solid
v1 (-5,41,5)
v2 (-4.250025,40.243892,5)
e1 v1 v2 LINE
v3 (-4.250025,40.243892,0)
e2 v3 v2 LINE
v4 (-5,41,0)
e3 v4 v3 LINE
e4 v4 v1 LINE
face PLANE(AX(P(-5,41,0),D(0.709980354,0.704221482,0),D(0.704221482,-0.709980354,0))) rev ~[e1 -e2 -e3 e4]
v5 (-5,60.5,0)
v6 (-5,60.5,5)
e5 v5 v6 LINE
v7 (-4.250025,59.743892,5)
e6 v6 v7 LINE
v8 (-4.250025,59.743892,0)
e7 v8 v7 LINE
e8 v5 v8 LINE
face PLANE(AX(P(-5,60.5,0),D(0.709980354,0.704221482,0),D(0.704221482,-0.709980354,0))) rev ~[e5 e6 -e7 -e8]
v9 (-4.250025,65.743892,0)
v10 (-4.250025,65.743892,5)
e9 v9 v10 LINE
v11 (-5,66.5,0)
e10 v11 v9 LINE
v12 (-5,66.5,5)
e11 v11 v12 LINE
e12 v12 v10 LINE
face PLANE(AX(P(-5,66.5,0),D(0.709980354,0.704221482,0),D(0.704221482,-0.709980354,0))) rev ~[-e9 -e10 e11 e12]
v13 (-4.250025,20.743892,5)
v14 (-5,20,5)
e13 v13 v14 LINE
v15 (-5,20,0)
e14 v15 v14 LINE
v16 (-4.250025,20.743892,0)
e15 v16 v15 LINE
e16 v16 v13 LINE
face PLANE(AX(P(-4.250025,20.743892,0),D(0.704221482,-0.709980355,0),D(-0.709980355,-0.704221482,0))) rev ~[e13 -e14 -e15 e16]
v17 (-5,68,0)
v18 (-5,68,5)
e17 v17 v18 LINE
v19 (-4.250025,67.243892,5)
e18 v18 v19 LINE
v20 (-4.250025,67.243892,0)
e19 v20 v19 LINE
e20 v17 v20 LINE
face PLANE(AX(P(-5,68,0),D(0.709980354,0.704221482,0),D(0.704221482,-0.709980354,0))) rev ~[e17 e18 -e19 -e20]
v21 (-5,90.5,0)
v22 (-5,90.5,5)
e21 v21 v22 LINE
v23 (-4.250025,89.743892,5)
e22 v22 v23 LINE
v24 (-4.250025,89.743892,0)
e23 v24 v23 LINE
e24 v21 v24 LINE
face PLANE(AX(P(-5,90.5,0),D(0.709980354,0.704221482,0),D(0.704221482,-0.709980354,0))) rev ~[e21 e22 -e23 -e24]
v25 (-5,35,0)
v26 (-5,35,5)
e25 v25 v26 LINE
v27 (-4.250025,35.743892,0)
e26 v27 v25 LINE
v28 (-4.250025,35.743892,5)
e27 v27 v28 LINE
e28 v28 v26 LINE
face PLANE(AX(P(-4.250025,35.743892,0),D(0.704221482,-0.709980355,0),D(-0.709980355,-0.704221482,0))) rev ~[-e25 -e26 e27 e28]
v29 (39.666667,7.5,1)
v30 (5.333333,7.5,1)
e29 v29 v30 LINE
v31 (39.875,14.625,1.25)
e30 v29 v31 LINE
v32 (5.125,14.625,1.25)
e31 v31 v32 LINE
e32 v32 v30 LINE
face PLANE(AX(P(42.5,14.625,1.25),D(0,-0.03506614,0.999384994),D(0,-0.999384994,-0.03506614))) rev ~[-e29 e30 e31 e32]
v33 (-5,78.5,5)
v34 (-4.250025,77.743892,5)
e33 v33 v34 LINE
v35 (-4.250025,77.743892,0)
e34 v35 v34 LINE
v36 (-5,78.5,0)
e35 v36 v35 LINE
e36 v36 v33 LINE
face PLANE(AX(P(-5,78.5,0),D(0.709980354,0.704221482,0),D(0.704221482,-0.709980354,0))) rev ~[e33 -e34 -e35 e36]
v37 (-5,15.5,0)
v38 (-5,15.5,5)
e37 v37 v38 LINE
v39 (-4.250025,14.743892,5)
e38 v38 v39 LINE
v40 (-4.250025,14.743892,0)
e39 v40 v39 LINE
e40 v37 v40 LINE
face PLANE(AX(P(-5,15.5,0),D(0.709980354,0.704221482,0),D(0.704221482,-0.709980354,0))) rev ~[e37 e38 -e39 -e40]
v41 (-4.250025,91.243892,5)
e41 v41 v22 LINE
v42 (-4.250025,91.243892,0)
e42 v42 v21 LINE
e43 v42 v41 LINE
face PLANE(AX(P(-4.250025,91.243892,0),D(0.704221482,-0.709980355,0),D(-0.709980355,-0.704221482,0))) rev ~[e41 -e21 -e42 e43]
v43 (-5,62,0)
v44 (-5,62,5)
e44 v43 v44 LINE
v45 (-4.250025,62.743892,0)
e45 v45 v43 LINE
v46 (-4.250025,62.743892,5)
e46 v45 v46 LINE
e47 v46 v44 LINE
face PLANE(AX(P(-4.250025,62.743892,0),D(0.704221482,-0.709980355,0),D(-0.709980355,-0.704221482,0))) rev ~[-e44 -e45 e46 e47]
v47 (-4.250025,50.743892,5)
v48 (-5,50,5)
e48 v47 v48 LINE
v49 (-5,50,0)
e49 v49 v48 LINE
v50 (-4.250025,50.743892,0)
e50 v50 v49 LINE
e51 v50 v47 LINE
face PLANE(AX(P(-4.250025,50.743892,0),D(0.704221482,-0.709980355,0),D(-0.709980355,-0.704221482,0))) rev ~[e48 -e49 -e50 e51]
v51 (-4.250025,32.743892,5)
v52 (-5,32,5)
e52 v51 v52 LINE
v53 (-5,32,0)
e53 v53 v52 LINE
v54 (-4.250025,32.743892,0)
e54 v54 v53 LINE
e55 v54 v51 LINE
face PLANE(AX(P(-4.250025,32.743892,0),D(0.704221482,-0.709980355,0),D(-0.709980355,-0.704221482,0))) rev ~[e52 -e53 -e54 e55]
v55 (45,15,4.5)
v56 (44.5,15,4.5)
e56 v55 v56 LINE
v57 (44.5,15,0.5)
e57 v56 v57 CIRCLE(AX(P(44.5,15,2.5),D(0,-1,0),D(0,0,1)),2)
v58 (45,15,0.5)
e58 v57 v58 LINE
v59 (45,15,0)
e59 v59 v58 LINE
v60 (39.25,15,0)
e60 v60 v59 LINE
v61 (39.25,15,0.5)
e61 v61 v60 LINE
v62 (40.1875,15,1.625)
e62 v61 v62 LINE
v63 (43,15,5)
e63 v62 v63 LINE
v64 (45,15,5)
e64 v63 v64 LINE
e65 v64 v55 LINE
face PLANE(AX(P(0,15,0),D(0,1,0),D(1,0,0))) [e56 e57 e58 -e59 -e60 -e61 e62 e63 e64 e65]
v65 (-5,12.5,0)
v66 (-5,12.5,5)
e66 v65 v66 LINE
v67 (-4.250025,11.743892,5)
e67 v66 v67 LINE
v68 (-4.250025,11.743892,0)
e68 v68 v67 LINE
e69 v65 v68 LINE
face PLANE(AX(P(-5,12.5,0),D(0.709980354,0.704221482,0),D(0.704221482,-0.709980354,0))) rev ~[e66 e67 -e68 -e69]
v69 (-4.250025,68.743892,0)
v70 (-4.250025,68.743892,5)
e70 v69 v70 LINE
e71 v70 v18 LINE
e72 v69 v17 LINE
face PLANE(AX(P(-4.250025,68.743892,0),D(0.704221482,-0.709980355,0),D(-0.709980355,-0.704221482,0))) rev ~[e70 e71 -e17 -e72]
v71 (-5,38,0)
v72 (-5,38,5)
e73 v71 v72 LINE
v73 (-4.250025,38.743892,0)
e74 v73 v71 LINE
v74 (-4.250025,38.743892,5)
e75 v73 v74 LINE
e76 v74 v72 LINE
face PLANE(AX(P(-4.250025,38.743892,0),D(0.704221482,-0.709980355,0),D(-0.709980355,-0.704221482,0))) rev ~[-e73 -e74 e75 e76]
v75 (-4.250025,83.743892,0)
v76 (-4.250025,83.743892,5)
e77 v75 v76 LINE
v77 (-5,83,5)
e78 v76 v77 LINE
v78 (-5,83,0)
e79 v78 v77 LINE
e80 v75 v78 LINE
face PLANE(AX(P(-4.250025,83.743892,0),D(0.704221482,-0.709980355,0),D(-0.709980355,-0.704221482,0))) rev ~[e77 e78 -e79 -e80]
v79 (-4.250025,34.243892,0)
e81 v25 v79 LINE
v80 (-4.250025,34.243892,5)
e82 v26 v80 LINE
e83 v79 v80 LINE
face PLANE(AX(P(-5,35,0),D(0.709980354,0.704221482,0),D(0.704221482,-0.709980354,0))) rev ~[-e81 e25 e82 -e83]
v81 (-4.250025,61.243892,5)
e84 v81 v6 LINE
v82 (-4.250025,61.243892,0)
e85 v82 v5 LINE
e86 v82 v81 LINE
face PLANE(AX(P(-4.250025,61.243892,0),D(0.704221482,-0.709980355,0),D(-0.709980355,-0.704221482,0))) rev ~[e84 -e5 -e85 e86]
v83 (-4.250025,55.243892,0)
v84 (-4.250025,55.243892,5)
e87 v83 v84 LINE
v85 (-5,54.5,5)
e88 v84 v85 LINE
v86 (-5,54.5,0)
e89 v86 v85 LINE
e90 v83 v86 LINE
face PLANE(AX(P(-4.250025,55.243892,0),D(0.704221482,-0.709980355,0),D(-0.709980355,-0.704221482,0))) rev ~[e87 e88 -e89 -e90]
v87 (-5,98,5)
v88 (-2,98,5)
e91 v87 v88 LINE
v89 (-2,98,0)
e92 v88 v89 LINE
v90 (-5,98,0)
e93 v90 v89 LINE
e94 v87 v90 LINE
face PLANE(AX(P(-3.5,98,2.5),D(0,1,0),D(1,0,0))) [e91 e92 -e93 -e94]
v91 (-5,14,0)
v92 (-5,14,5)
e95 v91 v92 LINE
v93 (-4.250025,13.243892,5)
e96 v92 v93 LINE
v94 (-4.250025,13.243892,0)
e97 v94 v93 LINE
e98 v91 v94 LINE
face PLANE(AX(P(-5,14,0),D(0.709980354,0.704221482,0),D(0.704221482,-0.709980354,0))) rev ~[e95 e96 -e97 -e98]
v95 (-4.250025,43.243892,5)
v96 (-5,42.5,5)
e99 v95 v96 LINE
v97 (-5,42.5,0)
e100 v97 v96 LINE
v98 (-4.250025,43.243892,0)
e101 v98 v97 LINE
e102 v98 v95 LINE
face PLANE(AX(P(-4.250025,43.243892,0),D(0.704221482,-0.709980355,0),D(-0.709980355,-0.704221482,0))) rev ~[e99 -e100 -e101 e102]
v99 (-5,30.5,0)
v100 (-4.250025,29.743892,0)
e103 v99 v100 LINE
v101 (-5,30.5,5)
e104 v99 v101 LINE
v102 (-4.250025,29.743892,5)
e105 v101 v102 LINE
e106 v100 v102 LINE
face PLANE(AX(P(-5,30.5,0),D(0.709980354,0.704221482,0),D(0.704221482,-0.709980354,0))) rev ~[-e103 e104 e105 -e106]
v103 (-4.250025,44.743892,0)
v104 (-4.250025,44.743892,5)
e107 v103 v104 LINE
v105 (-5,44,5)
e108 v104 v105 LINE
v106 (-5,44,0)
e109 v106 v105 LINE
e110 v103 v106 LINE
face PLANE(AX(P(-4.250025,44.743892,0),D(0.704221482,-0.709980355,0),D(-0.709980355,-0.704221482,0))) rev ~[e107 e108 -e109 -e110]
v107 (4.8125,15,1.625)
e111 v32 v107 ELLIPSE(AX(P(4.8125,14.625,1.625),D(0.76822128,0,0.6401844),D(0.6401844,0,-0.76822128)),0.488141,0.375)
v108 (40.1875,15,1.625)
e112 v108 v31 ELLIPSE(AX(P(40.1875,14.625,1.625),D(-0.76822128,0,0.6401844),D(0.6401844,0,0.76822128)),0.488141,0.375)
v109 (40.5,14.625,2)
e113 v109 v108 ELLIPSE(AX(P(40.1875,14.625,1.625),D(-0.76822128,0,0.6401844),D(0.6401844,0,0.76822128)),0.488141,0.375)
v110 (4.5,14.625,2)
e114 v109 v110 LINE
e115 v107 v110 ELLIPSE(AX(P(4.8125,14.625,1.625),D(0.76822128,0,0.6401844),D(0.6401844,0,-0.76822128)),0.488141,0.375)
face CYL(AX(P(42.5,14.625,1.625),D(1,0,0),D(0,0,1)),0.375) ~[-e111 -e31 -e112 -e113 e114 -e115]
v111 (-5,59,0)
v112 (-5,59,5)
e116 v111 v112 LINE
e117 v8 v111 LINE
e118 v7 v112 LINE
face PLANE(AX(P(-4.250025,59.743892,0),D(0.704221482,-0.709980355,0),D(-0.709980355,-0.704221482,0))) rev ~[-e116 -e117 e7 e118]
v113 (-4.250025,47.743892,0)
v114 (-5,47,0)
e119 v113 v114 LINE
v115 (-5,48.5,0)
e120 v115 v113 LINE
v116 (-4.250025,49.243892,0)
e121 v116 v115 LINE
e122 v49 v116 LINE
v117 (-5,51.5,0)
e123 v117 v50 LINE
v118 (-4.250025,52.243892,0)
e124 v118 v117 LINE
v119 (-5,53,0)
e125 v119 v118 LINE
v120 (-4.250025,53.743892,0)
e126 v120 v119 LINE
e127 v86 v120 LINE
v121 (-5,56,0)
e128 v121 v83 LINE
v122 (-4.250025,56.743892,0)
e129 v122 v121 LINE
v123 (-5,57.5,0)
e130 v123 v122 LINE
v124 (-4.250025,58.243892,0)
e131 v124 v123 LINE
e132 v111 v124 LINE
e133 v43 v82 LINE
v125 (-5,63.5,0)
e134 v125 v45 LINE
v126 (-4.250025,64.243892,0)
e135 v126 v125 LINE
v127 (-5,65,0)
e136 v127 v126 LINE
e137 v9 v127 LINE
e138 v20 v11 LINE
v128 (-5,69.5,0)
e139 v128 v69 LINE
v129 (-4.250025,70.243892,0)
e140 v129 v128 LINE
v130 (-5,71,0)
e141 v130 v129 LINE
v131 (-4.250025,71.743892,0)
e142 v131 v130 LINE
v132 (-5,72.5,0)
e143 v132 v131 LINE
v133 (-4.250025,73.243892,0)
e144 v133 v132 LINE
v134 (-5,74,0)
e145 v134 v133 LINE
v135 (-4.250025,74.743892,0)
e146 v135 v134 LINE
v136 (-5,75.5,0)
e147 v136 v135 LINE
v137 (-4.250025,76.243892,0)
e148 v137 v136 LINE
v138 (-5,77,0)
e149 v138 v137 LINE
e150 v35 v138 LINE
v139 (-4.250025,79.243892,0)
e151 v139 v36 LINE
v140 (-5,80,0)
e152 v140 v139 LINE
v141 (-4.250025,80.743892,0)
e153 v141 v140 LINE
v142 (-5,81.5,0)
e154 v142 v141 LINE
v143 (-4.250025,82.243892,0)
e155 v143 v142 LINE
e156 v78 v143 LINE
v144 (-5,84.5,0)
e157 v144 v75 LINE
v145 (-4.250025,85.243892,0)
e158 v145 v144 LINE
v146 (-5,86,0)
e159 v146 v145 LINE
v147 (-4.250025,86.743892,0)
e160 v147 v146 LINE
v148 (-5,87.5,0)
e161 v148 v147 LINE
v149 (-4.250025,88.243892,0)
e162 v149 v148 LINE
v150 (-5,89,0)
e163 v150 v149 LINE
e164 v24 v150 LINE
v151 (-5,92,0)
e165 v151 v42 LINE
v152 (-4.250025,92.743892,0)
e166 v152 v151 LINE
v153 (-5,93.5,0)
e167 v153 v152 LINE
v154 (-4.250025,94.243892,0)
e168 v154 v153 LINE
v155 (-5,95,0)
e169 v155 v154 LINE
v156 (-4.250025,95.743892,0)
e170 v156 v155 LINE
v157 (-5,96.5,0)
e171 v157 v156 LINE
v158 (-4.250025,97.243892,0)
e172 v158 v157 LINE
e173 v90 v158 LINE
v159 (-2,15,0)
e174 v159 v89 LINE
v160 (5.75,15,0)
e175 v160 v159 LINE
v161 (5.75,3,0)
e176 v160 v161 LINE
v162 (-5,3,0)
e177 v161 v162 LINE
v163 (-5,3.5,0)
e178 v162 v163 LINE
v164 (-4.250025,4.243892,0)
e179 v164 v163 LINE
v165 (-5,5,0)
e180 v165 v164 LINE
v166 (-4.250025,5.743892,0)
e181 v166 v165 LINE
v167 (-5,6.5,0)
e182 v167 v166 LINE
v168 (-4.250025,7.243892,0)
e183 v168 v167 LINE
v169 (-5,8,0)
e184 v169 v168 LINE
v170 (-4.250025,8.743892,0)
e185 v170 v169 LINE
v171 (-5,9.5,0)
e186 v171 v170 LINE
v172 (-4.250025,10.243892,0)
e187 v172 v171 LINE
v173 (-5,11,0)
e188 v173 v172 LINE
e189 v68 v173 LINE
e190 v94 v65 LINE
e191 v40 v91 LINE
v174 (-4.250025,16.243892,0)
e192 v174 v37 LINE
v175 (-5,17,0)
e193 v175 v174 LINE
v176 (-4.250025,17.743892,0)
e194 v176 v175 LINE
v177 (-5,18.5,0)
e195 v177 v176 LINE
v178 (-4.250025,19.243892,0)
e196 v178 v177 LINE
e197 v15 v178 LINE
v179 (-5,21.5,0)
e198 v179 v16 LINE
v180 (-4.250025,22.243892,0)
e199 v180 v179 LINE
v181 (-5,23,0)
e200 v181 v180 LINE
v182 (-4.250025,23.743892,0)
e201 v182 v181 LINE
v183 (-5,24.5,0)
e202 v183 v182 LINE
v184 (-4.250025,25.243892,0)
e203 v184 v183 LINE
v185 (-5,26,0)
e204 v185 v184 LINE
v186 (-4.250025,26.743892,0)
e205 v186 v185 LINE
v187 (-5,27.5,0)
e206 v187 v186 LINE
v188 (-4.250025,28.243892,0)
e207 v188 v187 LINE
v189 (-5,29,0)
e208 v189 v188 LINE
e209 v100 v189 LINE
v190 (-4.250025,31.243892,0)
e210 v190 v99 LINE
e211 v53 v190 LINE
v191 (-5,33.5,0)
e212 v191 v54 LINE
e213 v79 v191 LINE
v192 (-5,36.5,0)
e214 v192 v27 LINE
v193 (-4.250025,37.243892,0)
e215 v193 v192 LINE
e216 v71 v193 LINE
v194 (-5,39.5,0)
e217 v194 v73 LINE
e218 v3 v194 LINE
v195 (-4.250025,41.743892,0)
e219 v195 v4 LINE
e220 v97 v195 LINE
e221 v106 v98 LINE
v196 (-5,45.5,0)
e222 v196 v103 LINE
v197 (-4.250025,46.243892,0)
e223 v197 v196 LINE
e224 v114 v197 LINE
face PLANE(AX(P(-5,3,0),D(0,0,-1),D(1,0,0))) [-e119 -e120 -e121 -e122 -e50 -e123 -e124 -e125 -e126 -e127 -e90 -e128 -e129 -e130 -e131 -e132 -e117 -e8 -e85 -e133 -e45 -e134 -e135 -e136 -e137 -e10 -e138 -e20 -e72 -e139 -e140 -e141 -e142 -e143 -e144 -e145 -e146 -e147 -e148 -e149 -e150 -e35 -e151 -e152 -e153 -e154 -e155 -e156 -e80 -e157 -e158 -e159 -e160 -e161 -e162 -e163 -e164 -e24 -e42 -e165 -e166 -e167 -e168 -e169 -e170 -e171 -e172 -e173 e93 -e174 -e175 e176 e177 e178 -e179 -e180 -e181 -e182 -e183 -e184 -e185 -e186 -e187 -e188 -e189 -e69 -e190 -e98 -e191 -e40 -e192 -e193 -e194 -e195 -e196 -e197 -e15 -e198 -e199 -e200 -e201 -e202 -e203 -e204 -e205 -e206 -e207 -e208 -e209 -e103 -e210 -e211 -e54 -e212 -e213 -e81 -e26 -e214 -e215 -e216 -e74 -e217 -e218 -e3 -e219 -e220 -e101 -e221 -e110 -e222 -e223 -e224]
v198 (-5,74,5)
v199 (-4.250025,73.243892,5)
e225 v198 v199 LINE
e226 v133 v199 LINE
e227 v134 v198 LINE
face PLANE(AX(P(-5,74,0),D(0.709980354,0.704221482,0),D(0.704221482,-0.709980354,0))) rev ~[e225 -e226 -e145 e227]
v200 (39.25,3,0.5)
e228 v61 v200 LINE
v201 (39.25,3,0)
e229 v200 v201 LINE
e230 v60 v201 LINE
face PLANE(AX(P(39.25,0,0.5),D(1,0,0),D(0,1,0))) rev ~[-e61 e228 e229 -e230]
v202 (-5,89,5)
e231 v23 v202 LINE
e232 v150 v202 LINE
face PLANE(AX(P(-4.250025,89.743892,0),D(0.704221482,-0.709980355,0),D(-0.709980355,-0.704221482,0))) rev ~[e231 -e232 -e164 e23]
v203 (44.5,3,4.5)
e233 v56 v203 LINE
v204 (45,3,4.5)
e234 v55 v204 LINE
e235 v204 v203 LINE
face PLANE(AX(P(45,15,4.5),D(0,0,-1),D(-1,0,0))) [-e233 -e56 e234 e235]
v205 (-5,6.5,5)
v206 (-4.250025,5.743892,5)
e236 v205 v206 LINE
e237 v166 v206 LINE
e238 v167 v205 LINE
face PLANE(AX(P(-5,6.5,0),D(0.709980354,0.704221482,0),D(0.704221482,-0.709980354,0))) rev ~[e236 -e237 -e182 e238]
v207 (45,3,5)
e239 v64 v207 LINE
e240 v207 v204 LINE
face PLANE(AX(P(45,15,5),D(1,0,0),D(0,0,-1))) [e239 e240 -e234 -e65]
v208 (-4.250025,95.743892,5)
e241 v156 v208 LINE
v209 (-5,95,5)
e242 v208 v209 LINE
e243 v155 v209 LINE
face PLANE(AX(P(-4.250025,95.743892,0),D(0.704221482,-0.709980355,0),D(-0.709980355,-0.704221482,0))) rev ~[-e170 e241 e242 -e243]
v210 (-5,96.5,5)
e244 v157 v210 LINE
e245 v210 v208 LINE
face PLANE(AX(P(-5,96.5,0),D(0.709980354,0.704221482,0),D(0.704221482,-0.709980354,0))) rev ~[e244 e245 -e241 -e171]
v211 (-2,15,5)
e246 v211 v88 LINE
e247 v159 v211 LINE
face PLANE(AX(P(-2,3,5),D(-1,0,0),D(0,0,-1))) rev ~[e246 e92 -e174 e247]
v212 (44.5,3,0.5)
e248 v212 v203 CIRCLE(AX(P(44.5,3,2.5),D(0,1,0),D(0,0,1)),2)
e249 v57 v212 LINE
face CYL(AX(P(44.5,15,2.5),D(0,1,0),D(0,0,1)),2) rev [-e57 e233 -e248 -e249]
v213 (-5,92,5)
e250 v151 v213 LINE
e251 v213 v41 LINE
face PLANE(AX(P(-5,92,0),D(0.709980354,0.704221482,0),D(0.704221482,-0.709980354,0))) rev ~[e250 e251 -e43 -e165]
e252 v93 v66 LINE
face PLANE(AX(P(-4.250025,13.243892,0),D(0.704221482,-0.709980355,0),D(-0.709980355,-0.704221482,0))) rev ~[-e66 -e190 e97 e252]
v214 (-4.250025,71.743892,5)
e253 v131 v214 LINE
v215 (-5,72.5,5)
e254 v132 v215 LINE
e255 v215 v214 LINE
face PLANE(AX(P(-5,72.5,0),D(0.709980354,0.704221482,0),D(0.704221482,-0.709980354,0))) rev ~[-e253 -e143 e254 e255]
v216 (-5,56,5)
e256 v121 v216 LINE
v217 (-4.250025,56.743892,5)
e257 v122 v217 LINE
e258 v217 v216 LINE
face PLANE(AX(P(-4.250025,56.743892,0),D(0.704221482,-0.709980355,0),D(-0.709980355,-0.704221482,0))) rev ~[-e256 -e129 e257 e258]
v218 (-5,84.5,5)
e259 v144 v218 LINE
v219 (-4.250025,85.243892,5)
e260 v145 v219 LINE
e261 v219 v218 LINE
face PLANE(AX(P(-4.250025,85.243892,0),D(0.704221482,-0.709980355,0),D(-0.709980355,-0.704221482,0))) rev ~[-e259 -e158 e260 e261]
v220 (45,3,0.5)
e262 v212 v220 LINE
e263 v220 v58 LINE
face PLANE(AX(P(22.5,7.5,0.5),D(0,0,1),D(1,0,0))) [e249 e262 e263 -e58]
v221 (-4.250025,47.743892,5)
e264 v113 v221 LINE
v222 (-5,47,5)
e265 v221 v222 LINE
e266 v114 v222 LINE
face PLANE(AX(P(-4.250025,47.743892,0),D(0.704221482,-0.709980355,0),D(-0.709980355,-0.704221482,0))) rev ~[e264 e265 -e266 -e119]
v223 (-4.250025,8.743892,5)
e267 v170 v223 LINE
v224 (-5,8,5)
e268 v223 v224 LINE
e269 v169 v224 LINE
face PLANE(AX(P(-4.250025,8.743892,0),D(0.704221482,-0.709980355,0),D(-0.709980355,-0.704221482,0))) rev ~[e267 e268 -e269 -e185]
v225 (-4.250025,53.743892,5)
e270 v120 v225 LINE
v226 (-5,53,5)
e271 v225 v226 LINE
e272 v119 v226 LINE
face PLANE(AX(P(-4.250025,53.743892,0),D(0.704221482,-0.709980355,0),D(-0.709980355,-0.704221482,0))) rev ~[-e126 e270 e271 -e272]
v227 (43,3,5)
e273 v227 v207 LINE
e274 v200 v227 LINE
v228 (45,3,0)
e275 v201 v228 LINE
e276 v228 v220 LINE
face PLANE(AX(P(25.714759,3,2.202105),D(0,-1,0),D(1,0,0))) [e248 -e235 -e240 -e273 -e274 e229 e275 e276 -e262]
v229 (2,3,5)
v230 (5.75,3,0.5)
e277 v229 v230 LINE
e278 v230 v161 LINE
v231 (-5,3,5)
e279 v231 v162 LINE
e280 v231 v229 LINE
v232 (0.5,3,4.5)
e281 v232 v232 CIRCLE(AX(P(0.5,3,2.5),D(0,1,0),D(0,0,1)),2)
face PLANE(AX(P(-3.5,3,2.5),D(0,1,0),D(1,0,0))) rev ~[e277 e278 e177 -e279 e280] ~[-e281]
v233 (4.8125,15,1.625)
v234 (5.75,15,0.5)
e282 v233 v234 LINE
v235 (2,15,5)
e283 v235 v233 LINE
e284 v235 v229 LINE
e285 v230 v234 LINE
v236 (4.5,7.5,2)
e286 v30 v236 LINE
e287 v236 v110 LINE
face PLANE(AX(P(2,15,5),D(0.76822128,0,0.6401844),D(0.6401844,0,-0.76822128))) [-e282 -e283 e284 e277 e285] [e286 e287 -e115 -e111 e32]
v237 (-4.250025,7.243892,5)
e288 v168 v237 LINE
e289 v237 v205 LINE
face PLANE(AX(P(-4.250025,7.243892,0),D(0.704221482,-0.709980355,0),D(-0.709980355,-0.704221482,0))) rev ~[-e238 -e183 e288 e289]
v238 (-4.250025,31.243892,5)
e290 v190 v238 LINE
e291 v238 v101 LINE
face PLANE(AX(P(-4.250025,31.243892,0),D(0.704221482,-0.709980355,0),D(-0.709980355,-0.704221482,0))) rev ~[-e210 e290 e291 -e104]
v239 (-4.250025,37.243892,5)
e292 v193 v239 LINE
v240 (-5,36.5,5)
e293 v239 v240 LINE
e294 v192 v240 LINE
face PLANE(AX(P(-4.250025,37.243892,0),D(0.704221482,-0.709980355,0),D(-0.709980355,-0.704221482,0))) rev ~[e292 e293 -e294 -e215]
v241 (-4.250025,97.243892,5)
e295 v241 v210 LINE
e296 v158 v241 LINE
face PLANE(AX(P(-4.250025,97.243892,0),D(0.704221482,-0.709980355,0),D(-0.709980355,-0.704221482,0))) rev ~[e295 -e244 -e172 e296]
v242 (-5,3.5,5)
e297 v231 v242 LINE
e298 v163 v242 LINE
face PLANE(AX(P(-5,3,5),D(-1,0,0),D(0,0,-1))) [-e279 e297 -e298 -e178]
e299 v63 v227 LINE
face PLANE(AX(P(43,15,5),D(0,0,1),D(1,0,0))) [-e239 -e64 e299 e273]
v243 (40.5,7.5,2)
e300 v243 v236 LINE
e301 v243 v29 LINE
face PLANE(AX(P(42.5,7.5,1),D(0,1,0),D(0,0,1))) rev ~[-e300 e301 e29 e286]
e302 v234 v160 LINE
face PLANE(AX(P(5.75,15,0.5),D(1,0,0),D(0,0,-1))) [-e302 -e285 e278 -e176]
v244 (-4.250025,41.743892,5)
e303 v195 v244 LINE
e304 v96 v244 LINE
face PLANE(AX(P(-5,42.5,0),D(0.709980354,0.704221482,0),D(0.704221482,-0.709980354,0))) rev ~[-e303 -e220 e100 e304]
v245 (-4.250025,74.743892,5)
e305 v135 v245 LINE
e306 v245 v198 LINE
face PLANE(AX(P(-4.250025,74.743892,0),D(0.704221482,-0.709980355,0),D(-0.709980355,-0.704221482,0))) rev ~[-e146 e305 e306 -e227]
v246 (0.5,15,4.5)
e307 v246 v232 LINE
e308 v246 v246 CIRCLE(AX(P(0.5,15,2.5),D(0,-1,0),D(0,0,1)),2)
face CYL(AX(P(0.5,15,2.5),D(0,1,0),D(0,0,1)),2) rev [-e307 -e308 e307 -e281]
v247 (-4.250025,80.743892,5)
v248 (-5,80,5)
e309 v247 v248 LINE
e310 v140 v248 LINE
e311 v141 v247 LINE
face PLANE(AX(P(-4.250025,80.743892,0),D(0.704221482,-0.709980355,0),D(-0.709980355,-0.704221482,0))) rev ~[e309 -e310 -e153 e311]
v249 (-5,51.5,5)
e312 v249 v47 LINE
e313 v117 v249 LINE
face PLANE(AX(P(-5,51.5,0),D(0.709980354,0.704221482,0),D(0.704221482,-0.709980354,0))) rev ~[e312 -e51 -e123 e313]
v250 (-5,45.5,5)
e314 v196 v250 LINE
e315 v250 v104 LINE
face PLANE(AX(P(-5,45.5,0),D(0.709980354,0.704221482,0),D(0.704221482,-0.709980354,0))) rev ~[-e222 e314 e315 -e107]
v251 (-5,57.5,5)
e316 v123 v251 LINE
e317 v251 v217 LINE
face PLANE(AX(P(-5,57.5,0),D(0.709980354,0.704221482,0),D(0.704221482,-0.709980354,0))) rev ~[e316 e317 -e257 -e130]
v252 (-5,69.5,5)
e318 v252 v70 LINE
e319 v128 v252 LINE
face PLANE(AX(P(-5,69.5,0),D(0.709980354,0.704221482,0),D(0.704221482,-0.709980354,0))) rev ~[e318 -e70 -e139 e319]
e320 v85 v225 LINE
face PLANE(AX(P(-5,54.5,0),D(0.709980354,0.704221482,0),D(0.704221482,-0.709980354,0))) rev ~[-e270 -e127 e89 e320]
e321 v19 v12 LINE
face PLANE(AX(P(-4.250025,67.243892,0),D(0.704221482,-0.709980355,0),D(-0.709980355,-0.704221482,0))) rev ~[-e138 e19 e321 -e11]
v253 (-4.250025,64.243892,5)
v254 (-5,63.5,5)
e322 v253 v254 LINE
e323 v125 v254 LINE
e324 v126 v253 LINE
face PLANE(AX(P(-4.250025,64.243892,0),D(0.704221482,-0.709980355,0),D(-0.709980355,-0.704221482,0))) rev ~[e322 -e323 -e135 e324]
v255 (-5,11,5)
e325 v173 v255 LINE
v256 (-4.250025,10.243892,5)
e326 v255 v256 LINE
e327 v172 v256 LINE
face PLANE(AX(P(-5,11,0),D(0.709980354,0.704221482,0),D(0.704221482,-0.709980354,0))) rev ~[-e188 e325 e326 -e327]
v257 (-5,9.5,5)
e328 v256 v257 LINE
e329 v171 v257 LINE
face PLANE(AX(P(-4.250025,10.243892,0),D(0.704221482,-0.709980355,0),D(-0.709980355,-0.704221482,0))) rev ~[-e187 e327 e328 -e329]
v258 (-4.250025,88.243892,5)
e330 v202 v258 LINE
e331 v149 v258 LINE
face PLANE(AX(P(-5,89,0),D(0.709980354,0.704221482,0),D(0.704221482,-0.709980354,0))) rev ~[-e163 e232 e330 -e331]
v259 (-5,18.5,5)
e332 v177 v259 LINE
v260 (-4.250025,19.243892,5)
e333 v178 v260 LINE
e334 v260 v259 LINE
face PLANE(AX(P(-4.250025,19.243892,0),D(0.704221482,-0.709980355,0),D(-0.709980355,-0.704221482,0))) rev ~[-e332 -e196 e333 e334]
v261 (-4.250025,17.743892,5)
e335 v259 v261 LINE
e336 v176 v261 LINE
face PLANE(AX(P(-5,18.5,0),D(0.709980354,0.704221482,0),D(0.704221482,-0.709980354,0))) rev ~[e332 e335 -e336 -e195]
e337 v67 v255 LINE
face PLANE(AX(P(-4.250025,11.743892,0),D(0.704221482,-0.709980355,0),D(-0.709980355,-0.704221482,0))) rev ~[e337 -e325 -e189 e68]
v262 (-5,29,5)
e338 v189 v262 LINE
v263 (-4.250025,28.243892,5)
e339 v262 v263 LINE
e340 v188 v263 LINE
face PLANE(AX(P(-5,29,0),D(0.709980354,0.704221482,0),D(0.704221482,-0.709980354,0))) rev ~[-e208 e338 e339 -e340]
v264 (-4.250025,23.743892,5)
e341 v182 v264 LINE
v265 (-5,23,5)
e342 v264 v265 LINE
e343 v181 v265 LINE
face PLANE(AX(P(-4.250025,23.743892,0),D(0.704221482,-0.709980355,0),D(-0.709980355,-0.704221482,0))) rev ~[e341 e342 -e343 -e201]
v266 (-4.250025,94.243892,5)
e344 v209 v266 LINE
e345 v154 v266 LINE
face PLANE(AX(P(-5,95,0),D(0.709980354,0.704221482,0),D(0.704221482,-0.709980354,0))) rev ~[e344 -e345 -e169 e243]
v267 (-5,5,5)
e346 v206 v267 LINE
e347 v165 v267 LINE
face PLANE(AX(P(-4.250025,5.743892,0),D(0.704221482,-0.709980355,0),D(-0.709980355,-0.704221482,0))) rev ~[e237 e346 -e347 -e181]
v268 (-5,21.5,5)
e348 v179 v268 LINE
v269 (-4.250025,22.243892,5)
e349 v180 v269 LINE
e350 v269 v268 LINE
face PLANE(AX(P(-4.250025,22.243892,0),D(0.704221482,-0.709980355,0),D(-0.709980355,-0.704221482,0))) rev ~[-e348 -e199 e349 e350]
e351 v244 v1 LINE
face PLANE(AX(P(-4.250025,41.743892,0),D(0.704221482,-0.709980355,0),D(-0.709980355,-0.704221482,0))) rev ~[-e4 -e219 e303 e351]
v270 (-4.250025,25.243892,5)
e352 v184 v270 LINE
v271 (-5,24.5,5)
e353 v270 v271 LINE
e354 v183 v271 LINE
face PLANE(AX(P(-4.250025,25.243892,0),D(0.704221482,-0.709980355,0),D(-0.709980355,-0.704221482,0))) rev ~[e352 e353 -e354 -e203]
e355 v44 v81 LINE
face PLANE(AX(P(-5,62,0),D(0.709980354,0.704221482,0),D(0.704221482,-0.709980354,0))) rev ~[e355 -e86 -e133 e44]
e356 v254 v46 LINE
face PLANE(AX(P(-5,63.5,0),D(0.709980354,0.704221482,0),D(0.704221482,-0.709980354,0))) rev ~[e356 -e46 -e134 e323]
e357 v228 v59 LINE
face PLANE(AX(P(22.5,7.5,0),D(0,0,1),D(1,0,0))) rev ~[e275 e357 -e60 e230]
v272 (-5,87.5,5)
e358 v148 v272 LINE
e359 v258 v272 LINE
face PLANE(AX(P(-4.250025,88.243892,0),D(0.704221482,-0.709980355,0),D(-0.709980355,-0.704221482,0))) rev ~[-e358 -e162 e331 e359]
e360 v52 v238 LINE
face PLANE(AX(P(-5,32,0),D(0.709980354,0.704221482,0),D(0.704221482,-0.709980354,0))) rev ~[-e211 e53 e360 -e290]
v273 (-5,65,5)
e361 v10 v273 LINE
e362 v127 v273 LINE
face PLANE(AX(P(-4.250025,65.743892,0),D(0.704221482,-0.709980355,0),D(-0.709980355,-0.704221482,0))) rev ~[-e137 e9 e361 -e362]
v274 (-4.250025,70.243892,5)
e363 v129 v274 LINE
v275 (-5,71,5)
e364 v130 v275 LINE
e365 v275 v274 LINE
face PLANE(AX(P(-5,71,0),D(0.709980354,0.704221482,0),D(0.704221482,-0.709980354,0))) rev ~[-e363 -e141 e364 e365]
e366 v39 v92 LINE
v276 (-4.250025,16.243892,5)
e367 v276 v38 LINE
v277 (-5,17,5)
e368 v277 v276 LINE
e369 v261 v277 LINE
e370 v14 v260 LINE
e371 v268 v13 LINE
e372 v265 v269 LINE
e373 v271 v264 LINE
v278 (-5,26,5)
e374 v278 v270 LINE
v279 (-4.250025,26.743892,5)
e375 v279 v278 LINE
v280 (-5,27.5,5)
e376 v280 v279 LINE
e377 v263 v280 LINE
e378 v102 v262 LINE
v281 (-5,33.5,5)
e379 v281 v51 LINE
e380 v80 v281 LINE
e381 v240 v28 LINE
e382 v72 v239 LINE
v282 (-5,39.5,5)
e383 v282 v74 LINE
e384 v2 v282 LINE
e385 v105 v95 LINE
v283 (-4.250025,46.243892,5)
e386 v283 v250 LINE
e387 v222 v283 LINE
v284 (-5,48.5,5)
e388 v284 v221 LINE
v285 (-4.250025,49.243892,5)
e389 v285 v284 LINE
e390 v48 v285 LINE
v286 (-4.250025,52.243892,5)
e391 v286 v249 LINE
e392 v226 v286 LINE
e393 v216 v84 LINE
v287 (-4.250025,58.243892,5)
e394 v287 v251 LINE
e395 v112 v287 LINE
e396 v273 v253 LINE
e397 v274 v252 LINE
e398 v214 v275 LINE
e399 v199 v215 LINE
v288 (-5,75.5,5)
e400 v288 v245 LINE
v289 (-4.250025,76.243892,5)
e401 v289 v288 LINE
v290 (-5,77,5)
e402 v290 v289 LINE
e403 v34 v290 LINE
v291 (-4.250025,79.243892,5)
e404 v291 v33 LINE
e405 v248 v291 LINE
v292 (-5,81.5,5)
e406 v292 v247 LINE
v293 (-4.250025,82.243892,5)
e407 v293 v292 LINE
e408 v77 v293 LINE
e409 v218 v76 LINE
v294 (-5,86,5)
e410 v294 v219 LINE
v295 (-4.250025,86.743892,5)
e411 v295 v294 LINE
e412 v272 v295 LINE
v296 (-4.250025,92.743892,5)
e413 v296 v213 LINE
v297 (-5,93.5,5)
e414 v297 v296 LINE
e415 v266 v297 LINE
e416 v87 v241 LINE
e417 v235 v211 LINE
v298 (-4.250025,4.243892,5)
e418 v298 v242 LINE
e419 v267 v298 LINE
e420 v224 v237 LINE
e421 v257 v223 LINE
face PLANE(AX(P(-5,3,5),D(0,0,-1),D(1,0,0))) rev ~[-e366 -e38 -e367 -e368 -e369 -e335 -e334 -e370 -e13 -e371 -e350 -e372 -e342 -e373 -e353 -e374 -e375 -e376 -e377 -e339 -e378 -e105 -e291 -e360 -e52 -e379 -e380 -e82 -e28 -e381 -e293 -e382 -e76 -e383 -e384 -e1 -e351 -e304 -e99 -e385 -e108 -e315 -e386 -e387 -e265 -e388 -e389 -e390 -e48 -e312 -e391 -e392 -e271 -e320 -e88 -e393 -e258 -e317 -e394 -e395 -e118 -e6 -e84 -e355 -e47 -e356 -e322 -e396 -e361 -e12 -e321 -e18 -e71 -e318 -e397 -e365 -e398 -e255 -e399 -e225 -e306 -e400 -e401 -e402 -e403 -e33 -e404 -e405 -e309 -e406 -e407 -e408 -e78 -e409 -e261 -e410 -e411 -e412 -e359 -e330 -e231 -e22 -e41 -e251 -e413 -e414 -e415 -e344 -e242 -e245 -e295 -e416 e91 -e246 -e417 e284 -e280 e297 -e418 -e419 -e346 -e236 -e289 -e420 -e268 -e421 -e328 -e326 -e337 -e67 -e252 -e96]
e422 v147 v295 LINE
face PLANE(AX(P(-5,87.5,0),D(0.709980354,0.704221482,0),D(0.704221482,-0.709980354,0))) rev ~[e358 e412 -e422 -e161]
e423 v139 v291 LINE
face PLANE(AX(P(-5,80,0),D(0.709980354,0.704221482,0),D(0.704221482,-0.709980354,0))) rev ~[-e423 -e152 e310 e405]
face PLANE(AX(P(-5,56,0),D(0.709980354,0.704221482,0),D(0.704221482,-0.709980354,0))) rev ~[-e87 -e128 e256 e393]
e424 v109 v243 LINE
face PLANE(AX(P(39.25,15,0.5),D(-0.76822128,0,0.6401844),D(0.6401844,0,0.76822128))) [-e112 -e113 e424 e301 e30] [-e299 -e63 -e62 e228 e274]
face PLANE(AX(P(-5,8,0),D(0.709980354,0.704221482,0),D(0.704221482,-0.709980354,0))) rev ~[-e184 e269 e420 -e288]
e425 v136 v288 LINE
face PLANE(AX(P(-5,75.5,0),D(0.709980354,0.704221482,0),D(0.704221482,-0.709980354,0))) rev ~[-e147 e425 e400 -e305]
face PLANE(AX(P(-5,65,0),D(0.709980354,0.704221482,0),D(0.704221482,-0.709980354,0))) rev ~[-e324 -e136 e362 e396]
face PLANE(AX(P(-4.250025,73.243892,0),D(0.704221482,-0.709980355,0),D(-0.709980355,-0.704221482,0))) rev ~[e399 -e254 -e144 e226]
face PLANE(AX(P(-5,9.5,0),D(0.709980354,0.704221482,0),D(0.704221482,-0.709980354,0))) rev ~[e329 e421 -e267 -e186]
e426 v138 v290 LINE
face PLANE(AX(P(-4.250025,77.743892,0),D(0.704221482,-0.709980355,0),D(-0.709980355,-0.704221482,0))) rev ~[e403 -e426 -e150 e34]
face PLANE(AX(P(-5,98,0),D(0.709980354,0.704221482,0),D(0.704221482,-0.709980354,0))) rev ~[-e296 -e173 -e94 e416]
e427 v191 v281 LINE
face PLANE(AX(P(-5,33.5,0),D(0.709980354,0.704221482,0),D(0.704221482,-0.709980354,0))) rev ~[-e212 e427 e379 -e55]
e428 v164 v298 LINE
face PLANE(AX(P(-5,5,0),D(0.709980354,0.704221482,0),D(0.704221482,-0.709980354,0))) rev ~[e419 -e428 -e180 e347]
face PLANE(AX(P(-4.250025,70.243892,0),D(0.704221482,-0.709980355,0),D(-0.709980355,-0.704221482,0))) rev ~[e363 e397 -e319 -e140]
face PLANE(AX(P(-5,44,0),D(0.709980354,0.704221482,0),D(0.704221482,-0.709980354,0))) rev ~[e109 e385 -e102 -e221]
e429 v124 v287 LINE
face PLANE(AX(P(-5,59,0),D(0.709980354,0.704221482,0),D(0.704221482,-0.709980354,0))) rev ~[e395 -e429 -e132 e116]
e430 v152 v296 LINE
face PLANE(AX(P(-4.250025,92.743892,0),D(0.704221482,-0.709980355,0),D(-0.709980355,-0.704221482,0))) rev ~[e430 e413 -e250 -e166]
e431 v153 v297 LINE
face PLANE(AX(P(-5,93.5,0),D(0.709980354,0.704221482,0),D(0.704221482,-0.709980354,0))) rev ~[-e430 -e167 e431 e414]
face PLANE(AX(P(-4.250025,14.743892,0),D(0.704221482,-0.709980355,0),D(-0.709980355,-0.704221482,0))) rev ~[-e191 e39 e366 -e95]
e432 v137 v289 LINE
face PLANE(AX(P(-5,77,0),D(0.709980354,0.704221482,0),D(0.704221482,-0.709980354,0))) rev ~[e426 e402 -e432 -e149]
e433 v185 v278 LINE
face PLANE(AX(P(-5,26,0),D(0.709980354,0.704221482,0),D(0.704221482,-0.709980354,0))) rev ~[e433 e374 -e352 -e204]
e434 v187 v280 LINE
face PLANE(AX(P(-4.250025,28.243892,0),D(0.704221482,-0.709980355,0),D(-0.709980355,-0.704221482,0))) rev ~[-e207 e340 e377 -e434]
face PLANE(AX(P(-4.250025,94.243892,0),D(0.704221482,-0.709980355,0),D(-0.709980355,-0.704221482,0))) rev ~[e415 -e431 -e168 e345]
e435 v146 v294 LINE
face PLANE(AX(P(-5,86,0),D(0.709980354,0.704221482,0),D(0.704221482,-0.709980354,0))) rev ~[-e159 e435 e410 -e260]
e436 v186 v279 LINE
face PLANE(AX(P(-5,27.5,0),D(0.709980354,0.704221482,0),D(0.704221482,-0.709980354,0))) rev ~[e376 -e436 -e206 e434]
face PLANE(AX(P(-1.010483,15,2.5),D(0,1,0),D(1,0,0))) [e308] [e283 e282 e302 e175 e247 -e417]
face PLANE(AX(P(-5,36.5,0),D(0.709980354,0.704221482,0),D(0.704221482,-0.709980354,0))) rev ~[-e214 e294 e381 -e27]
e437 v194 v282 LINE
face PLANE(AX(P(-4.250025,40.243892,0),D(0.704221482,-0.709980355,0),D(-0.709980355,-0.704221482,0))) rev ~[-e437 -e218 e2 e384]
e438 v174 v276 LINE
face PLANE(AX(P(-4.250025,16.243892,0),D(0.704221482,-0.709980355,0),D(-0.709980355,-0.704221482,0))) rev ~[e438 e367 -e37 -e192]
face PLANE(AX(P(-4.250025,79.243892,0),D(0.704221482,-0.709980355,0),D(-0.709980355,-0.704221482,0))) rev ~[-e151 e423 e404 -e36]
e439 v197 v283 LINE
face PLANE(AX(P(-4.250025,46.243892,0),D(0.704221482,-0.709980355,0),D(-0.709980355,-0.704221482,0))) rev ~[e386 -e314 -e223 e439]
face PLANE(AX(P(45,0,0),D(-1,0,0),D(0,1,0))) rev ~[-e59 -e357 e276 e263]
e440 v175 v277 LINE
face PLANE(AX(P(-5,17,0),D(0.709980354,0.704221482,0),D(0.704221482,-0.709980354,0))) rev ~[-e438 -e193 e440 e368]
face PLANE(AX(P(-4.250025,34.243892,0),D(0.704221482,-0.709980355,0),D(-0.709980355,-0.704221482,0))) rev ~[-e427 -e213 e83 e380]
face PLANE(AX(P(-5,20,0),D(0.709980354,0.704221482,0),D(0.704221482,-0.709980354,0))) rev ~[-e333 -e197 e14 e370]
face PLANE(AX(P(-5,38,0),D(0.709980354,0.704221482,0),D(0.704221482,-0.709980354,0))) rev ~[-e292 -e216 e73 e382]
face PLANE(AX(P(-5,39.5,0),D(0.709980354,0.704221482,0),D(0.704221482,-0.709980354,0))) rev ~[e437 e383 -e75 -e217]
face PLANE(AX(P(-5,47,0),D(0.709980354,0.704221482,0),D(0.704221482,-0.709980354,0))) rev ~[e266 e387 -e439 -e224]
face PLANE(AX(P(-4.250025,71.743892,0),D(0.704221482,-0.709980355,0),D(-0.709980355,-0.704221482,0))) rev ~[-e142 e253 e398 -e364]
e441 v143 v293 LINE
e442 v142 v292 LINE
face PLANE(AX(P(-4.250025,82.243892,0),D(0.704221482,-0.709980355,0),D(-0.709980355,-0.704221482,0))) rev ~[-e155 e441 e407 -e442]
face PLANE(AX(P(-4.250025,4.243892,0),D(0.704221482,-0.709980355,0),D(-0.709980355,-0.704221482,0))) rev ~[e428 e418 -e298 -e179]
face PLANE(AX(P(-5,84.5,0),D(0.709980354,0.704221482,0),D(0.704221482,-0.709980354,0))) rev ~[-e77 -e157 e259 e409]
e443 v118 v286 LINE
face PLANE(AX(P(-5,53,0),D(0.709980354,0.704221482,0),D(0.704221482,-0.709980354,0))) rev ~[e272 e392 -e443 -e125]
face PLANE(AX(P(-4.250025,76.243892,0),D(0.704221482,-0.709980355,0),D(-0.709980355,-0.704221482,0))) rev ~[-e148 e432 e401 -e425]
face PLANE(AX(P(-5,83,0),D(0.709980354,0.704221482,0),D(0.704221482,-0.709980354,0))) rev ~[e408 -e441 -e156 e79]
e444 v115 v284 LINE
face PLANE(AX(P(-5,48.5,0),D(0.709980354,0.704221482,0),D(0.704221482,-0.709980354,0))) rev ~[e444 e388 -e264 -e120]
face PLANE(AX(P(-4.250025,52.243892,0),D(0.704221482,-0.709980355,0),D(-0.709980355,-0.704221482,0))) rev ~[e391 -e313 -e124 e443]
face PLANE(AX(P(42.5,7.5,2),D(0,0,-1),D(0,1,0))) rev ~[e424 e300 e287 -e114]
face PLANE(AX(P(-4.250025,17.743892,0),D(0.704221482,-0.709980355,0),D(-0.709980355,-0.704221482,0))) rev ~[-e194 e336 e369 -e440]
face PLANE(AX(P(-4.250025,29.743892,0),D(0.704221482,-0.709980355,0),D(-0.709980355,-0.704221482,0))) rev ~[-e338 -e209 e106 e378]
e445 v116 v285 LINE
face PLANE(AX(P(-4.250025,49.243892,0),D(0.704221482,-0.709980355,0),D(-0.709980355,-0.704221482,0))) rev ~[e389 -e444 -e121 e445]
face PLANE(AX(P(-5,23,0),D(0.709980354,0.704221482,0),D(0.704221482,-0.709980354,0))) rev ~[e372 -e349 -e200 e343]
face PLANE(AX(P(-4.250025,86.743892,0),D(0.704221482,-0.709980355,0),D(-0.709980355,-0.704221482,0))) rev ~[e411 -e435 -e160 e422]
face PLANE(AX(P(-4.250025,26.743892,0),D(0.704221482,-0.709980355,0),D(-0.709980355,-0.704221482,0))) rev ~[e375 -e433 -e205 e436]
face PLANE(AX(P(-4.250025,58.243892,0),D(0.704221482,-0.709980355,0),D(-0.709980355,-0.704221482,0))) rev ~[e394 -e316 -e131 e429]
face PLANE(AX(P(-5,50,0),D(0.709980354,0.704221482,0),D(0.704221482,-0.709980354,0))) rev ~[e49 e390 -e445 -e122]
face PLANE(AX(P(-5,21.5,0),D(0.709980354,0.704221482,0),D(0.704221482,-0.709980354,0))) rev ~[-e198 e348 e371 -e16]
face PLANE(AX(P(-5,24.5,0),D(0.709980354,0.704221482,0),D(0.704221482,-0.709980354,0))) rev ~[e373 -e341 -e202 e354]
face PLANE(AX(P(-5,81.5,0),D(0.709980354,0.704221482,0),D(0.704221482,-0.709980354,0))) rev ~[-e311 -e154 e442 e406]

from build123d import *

# Parameters (mm, degrees)
ESQUISSE1_W                = 45
ESQUISSE1_H                = 15
BOSS_EXTRU_1_DEPTH         = 0.5
BOSS_EXTRU_2_DEPTH         = 15
ESQUISSE3_W                = 33.5
ESQUISSE3_H                = 7.5
ENL_V_MAT_EXTRU_1_DEPTH    = 48.647140523
BOSS_EXTRU_5_DEPTH         = 20
BOSS_EXTRU_5_DEPTH_BACK    = 20
ESQUISSE10_W               = 64.680470467
ESQUISSE10_H               = 24.042247858
ENL_V_MAT_EXTRU_3_DEPTH    = 3
ESQUISSE11_W               = 33.5
ESQUISSE11_H               = 0.5
ENL_V_MAT_EXTRU_4_DEPTH    = 47.840153715
ESQUISSE12_W               = 10.593660794
ESQUISSE12_H               = 24.624800323
ENL_V_MAT_EXTRU_5_DEPTH    = 0.5
BOSS_EXTRU_6_DEPTH         = 12
BOSS_EXTRU_7_DEPTH         = 83
BOSS_EXTRU_7_DEPTH_BACK    = 12
ESQUISSE13_3_W             = 3
ESQUISSE13_3_H             = 5
ENL_V_MAT_EXTRU_6_DEPTH    = 185
R_P_TITION_LIN_AIRE2_COUNT = 63
R_P_TITION_LIN_AIRE2_PITCH = 1.5
ESQUISSE8_W                = 33.5
ESQUISSE8_H                = 3
ENL_V_MAT_EXTRU_2_DEPTH    = 0.5


with BuildPart() as part:
    # Esquisse1 → Boss.-Extru.1 (new body)
    with BuildSketch(Plane.XY):
        with Locations((22.5, 7.5)):
            Rectangle(ESQUISSE1_W, ESQUISSE1_H)
    extrude(amount=BOSS_EXTRU_1_DEPTH)

    # Esquisse2 → Boss.-Extru.2 (add)
    with BuildSketch(Plane(origin=(0, 15, 0), x_dir=(1, 0, 0), z_dir=(0, 1, 0))):
        with BuildLine():
            ThreePointArc((0.5, -0.5), (2.5, -2.5), (0.5, -4.5))
            Line((0.5, -4.5), (0, -4.5))
            Line((0, -4.5), (0, -5))
            Line((0, -5), (0.5, -5))
            Line((0.5, -5), (2, -5))
            Line((2, -5), (5.75, -0.5))
            Line((5.75, -0.5), (0.5, -0.5))
        make_face()
        with BuildLine():
            Line((44.5, -0.5), (39.25, -0.5))
            Line((39.25, -0.5), (43, -5))
            Line((43, -5), (44.5, -5))
            Line((44.5, -5), (45, -5))
            Line((45, -5), (45, -4.5))
            Line((45, -4.5), (44.5, -4.5))
            ThreePointArc((44.5, -4.5), (42.5, -2.5), (44.5, -0.5))
        make_face()
    extrude(amount=-BOSS_EXTRU_2_DEPTH)

    # Esquisse3 → Enlèv. mat.-Extru.1 (cut, through all)
    with BuildSketch(Plane.XY.offset(0.5)):
        with Locations((22.5, 3.75)):
            Rectangle(ESQUISSE3_W, ESQUISSE3_H)
    extrude(amount=-ENL_V_MAT_EXTRU_1_DEPTH, mode=Mode.SUBTRACT)

    # Esquisse7 → Boss.-Extru.5 (add, two sides: drawn at the far end of the back side and taken through both)
    with BuildSketch(Plane.ZY.offset(-22.5).offset(-BOSS_EXTRU_5_DEPTH_BACK)):
        with BuildLine():
            Line((1, 7.5), (2, 7.5))
            Line((2, 7.5), (2, 14.625))
            ThreePointArc((2, 14.625), (1.625, 15), (1.25, 14.625))
            Line((1.25, 14.625), (1, 7.5))
        make_face()
    extrude(amount=BOSS_EXTRU_5_DEPTH + BOSS_EXTRU_5_DEPTH_BACK)

    # Esquisse10 → Enlèv. mat.-Extru.3 (cut)
    with BuildSketch(Plane.XZ):
        with Locations((25.714759003, 2.202104928)):
            Rectangle(ESQUISSE10_W, ESQUISSE10_H)
    extrude(amount=-ENL_V_MAT_EXTRU_3_DEPTH, mode=Mode.SUBTRACT)

    # Esquisse11 → Enlèv. mat.-Extru.4 (cut, through all)
    with BuildSketch(Plane(origin=(0, 15, 0), x_dir=(1, 0, 0), z_dir=(0, 1, 0))):
        with Locations((22.5, -0.25)):
            Rectangle(ESQUISSE11_W, ESQUISSE11_H)
    extrude(amount=-ENL_V_MAT_EXTRU_4_DEPTH, mode=Mode.SUBTRACT)

    # Esquisse12 → Enlèv. mat.-Extru.5 (cut)
    with BuildSketch(Plane.ZY):
        with Locations((2.946764515, 5.852855815)):
            Rectangle(ESQUISSE12_W, ESQUISSE12_H)
    extrude(amount=-ENL_V_MAT_EXTRU_5_DEPTH, mode=Mode.SUBTRACT)

    # Esquisse13 → Boss.-Extru.6 (add)
    with BuildSketch(Plane(origin=(0, 15, 0), x_dir=(1, 0, 0), z_dir=(0, 1, 0))):
        with BuildLine():
            Line((-2, -5), (0.5, -5))
            Line((0.5, -5), (0.5, -4.5))
            ThreePointArc((0.5, -4.5), (-1.5, -2.5), (0.5, -0.5))
            Line((0.5, -0.5), (0.5, 0))
            Line((0.5, 0), (-2, 0))
            Line((-2, 0), (-2, -5))
        make_face()
    extrude(amount=-BOSS_EXTRU_6_DEPTH)

    # Esquisse13<3> → Boss.-Extru.7 (add, two sides: drawn at the far end of the back side and taken through both)
    with BuildSketch(Plane(origin=(0, 15, 0), x_dir=(1, 0, 0), z_dir=(0, 1, 0)).offset(-BOSS_EXTRU_7_DEPTH_BACK)):
        with Locations((-3.5, -2.5)):
            Rectangle(ESQUISSE13_3_W, ESQUISSE13_3_H)
    extrude(amount=BOSS_EXTRU_7_DEPTH + BOSS_EXTRU_7_DEPTH_BACK)

    # Esquisse14 → Enlèv. mat.-Extru.6 (cut)
    with BuildSketch(Plane(origin=(0, 0, 0), x_dir=(-1, 0, 0), z_dir=(0, 0, -1))):
        Polygon((5, 98), (4.250024873, 97.243891844), (5, 96.5), align=None)
    enl_v_mat_extru_6 = extrude(amount=-ENL_V_MAT_EXTRU_6_DEPTH, mode=Mode.SUBTRACT)

    # Répétition linéaire2: Enlèv. mat.-Extru.6 ×63
    with Locations(*[(0, -i * R_P_TITION_LIN_AIRE2_PITCH, 0) for i in range(1, R_P_TITION_LIN_AIRE2_COUNT)]):
        add(enl_v_mat_extru_6, mode=Mode.SUBTRACT)

    # Esquisse8 → Enlèv. mat.-Extru.2 (cut)
    with BuildSketch(Plane(origin=(0, 0, 0), x_dir=(-1, 0, 0), z_dir=(0, 0, -1))):
        with Locations((-22.5, 9)):
            Rectangle(ESQUISSE8_W, ESQUISSE8_H)
    extrude(amount=-ENL_V_MAT_EXTRU_2_DEPTH, mode=Mode.SUBTRACT)


solid = part.part
